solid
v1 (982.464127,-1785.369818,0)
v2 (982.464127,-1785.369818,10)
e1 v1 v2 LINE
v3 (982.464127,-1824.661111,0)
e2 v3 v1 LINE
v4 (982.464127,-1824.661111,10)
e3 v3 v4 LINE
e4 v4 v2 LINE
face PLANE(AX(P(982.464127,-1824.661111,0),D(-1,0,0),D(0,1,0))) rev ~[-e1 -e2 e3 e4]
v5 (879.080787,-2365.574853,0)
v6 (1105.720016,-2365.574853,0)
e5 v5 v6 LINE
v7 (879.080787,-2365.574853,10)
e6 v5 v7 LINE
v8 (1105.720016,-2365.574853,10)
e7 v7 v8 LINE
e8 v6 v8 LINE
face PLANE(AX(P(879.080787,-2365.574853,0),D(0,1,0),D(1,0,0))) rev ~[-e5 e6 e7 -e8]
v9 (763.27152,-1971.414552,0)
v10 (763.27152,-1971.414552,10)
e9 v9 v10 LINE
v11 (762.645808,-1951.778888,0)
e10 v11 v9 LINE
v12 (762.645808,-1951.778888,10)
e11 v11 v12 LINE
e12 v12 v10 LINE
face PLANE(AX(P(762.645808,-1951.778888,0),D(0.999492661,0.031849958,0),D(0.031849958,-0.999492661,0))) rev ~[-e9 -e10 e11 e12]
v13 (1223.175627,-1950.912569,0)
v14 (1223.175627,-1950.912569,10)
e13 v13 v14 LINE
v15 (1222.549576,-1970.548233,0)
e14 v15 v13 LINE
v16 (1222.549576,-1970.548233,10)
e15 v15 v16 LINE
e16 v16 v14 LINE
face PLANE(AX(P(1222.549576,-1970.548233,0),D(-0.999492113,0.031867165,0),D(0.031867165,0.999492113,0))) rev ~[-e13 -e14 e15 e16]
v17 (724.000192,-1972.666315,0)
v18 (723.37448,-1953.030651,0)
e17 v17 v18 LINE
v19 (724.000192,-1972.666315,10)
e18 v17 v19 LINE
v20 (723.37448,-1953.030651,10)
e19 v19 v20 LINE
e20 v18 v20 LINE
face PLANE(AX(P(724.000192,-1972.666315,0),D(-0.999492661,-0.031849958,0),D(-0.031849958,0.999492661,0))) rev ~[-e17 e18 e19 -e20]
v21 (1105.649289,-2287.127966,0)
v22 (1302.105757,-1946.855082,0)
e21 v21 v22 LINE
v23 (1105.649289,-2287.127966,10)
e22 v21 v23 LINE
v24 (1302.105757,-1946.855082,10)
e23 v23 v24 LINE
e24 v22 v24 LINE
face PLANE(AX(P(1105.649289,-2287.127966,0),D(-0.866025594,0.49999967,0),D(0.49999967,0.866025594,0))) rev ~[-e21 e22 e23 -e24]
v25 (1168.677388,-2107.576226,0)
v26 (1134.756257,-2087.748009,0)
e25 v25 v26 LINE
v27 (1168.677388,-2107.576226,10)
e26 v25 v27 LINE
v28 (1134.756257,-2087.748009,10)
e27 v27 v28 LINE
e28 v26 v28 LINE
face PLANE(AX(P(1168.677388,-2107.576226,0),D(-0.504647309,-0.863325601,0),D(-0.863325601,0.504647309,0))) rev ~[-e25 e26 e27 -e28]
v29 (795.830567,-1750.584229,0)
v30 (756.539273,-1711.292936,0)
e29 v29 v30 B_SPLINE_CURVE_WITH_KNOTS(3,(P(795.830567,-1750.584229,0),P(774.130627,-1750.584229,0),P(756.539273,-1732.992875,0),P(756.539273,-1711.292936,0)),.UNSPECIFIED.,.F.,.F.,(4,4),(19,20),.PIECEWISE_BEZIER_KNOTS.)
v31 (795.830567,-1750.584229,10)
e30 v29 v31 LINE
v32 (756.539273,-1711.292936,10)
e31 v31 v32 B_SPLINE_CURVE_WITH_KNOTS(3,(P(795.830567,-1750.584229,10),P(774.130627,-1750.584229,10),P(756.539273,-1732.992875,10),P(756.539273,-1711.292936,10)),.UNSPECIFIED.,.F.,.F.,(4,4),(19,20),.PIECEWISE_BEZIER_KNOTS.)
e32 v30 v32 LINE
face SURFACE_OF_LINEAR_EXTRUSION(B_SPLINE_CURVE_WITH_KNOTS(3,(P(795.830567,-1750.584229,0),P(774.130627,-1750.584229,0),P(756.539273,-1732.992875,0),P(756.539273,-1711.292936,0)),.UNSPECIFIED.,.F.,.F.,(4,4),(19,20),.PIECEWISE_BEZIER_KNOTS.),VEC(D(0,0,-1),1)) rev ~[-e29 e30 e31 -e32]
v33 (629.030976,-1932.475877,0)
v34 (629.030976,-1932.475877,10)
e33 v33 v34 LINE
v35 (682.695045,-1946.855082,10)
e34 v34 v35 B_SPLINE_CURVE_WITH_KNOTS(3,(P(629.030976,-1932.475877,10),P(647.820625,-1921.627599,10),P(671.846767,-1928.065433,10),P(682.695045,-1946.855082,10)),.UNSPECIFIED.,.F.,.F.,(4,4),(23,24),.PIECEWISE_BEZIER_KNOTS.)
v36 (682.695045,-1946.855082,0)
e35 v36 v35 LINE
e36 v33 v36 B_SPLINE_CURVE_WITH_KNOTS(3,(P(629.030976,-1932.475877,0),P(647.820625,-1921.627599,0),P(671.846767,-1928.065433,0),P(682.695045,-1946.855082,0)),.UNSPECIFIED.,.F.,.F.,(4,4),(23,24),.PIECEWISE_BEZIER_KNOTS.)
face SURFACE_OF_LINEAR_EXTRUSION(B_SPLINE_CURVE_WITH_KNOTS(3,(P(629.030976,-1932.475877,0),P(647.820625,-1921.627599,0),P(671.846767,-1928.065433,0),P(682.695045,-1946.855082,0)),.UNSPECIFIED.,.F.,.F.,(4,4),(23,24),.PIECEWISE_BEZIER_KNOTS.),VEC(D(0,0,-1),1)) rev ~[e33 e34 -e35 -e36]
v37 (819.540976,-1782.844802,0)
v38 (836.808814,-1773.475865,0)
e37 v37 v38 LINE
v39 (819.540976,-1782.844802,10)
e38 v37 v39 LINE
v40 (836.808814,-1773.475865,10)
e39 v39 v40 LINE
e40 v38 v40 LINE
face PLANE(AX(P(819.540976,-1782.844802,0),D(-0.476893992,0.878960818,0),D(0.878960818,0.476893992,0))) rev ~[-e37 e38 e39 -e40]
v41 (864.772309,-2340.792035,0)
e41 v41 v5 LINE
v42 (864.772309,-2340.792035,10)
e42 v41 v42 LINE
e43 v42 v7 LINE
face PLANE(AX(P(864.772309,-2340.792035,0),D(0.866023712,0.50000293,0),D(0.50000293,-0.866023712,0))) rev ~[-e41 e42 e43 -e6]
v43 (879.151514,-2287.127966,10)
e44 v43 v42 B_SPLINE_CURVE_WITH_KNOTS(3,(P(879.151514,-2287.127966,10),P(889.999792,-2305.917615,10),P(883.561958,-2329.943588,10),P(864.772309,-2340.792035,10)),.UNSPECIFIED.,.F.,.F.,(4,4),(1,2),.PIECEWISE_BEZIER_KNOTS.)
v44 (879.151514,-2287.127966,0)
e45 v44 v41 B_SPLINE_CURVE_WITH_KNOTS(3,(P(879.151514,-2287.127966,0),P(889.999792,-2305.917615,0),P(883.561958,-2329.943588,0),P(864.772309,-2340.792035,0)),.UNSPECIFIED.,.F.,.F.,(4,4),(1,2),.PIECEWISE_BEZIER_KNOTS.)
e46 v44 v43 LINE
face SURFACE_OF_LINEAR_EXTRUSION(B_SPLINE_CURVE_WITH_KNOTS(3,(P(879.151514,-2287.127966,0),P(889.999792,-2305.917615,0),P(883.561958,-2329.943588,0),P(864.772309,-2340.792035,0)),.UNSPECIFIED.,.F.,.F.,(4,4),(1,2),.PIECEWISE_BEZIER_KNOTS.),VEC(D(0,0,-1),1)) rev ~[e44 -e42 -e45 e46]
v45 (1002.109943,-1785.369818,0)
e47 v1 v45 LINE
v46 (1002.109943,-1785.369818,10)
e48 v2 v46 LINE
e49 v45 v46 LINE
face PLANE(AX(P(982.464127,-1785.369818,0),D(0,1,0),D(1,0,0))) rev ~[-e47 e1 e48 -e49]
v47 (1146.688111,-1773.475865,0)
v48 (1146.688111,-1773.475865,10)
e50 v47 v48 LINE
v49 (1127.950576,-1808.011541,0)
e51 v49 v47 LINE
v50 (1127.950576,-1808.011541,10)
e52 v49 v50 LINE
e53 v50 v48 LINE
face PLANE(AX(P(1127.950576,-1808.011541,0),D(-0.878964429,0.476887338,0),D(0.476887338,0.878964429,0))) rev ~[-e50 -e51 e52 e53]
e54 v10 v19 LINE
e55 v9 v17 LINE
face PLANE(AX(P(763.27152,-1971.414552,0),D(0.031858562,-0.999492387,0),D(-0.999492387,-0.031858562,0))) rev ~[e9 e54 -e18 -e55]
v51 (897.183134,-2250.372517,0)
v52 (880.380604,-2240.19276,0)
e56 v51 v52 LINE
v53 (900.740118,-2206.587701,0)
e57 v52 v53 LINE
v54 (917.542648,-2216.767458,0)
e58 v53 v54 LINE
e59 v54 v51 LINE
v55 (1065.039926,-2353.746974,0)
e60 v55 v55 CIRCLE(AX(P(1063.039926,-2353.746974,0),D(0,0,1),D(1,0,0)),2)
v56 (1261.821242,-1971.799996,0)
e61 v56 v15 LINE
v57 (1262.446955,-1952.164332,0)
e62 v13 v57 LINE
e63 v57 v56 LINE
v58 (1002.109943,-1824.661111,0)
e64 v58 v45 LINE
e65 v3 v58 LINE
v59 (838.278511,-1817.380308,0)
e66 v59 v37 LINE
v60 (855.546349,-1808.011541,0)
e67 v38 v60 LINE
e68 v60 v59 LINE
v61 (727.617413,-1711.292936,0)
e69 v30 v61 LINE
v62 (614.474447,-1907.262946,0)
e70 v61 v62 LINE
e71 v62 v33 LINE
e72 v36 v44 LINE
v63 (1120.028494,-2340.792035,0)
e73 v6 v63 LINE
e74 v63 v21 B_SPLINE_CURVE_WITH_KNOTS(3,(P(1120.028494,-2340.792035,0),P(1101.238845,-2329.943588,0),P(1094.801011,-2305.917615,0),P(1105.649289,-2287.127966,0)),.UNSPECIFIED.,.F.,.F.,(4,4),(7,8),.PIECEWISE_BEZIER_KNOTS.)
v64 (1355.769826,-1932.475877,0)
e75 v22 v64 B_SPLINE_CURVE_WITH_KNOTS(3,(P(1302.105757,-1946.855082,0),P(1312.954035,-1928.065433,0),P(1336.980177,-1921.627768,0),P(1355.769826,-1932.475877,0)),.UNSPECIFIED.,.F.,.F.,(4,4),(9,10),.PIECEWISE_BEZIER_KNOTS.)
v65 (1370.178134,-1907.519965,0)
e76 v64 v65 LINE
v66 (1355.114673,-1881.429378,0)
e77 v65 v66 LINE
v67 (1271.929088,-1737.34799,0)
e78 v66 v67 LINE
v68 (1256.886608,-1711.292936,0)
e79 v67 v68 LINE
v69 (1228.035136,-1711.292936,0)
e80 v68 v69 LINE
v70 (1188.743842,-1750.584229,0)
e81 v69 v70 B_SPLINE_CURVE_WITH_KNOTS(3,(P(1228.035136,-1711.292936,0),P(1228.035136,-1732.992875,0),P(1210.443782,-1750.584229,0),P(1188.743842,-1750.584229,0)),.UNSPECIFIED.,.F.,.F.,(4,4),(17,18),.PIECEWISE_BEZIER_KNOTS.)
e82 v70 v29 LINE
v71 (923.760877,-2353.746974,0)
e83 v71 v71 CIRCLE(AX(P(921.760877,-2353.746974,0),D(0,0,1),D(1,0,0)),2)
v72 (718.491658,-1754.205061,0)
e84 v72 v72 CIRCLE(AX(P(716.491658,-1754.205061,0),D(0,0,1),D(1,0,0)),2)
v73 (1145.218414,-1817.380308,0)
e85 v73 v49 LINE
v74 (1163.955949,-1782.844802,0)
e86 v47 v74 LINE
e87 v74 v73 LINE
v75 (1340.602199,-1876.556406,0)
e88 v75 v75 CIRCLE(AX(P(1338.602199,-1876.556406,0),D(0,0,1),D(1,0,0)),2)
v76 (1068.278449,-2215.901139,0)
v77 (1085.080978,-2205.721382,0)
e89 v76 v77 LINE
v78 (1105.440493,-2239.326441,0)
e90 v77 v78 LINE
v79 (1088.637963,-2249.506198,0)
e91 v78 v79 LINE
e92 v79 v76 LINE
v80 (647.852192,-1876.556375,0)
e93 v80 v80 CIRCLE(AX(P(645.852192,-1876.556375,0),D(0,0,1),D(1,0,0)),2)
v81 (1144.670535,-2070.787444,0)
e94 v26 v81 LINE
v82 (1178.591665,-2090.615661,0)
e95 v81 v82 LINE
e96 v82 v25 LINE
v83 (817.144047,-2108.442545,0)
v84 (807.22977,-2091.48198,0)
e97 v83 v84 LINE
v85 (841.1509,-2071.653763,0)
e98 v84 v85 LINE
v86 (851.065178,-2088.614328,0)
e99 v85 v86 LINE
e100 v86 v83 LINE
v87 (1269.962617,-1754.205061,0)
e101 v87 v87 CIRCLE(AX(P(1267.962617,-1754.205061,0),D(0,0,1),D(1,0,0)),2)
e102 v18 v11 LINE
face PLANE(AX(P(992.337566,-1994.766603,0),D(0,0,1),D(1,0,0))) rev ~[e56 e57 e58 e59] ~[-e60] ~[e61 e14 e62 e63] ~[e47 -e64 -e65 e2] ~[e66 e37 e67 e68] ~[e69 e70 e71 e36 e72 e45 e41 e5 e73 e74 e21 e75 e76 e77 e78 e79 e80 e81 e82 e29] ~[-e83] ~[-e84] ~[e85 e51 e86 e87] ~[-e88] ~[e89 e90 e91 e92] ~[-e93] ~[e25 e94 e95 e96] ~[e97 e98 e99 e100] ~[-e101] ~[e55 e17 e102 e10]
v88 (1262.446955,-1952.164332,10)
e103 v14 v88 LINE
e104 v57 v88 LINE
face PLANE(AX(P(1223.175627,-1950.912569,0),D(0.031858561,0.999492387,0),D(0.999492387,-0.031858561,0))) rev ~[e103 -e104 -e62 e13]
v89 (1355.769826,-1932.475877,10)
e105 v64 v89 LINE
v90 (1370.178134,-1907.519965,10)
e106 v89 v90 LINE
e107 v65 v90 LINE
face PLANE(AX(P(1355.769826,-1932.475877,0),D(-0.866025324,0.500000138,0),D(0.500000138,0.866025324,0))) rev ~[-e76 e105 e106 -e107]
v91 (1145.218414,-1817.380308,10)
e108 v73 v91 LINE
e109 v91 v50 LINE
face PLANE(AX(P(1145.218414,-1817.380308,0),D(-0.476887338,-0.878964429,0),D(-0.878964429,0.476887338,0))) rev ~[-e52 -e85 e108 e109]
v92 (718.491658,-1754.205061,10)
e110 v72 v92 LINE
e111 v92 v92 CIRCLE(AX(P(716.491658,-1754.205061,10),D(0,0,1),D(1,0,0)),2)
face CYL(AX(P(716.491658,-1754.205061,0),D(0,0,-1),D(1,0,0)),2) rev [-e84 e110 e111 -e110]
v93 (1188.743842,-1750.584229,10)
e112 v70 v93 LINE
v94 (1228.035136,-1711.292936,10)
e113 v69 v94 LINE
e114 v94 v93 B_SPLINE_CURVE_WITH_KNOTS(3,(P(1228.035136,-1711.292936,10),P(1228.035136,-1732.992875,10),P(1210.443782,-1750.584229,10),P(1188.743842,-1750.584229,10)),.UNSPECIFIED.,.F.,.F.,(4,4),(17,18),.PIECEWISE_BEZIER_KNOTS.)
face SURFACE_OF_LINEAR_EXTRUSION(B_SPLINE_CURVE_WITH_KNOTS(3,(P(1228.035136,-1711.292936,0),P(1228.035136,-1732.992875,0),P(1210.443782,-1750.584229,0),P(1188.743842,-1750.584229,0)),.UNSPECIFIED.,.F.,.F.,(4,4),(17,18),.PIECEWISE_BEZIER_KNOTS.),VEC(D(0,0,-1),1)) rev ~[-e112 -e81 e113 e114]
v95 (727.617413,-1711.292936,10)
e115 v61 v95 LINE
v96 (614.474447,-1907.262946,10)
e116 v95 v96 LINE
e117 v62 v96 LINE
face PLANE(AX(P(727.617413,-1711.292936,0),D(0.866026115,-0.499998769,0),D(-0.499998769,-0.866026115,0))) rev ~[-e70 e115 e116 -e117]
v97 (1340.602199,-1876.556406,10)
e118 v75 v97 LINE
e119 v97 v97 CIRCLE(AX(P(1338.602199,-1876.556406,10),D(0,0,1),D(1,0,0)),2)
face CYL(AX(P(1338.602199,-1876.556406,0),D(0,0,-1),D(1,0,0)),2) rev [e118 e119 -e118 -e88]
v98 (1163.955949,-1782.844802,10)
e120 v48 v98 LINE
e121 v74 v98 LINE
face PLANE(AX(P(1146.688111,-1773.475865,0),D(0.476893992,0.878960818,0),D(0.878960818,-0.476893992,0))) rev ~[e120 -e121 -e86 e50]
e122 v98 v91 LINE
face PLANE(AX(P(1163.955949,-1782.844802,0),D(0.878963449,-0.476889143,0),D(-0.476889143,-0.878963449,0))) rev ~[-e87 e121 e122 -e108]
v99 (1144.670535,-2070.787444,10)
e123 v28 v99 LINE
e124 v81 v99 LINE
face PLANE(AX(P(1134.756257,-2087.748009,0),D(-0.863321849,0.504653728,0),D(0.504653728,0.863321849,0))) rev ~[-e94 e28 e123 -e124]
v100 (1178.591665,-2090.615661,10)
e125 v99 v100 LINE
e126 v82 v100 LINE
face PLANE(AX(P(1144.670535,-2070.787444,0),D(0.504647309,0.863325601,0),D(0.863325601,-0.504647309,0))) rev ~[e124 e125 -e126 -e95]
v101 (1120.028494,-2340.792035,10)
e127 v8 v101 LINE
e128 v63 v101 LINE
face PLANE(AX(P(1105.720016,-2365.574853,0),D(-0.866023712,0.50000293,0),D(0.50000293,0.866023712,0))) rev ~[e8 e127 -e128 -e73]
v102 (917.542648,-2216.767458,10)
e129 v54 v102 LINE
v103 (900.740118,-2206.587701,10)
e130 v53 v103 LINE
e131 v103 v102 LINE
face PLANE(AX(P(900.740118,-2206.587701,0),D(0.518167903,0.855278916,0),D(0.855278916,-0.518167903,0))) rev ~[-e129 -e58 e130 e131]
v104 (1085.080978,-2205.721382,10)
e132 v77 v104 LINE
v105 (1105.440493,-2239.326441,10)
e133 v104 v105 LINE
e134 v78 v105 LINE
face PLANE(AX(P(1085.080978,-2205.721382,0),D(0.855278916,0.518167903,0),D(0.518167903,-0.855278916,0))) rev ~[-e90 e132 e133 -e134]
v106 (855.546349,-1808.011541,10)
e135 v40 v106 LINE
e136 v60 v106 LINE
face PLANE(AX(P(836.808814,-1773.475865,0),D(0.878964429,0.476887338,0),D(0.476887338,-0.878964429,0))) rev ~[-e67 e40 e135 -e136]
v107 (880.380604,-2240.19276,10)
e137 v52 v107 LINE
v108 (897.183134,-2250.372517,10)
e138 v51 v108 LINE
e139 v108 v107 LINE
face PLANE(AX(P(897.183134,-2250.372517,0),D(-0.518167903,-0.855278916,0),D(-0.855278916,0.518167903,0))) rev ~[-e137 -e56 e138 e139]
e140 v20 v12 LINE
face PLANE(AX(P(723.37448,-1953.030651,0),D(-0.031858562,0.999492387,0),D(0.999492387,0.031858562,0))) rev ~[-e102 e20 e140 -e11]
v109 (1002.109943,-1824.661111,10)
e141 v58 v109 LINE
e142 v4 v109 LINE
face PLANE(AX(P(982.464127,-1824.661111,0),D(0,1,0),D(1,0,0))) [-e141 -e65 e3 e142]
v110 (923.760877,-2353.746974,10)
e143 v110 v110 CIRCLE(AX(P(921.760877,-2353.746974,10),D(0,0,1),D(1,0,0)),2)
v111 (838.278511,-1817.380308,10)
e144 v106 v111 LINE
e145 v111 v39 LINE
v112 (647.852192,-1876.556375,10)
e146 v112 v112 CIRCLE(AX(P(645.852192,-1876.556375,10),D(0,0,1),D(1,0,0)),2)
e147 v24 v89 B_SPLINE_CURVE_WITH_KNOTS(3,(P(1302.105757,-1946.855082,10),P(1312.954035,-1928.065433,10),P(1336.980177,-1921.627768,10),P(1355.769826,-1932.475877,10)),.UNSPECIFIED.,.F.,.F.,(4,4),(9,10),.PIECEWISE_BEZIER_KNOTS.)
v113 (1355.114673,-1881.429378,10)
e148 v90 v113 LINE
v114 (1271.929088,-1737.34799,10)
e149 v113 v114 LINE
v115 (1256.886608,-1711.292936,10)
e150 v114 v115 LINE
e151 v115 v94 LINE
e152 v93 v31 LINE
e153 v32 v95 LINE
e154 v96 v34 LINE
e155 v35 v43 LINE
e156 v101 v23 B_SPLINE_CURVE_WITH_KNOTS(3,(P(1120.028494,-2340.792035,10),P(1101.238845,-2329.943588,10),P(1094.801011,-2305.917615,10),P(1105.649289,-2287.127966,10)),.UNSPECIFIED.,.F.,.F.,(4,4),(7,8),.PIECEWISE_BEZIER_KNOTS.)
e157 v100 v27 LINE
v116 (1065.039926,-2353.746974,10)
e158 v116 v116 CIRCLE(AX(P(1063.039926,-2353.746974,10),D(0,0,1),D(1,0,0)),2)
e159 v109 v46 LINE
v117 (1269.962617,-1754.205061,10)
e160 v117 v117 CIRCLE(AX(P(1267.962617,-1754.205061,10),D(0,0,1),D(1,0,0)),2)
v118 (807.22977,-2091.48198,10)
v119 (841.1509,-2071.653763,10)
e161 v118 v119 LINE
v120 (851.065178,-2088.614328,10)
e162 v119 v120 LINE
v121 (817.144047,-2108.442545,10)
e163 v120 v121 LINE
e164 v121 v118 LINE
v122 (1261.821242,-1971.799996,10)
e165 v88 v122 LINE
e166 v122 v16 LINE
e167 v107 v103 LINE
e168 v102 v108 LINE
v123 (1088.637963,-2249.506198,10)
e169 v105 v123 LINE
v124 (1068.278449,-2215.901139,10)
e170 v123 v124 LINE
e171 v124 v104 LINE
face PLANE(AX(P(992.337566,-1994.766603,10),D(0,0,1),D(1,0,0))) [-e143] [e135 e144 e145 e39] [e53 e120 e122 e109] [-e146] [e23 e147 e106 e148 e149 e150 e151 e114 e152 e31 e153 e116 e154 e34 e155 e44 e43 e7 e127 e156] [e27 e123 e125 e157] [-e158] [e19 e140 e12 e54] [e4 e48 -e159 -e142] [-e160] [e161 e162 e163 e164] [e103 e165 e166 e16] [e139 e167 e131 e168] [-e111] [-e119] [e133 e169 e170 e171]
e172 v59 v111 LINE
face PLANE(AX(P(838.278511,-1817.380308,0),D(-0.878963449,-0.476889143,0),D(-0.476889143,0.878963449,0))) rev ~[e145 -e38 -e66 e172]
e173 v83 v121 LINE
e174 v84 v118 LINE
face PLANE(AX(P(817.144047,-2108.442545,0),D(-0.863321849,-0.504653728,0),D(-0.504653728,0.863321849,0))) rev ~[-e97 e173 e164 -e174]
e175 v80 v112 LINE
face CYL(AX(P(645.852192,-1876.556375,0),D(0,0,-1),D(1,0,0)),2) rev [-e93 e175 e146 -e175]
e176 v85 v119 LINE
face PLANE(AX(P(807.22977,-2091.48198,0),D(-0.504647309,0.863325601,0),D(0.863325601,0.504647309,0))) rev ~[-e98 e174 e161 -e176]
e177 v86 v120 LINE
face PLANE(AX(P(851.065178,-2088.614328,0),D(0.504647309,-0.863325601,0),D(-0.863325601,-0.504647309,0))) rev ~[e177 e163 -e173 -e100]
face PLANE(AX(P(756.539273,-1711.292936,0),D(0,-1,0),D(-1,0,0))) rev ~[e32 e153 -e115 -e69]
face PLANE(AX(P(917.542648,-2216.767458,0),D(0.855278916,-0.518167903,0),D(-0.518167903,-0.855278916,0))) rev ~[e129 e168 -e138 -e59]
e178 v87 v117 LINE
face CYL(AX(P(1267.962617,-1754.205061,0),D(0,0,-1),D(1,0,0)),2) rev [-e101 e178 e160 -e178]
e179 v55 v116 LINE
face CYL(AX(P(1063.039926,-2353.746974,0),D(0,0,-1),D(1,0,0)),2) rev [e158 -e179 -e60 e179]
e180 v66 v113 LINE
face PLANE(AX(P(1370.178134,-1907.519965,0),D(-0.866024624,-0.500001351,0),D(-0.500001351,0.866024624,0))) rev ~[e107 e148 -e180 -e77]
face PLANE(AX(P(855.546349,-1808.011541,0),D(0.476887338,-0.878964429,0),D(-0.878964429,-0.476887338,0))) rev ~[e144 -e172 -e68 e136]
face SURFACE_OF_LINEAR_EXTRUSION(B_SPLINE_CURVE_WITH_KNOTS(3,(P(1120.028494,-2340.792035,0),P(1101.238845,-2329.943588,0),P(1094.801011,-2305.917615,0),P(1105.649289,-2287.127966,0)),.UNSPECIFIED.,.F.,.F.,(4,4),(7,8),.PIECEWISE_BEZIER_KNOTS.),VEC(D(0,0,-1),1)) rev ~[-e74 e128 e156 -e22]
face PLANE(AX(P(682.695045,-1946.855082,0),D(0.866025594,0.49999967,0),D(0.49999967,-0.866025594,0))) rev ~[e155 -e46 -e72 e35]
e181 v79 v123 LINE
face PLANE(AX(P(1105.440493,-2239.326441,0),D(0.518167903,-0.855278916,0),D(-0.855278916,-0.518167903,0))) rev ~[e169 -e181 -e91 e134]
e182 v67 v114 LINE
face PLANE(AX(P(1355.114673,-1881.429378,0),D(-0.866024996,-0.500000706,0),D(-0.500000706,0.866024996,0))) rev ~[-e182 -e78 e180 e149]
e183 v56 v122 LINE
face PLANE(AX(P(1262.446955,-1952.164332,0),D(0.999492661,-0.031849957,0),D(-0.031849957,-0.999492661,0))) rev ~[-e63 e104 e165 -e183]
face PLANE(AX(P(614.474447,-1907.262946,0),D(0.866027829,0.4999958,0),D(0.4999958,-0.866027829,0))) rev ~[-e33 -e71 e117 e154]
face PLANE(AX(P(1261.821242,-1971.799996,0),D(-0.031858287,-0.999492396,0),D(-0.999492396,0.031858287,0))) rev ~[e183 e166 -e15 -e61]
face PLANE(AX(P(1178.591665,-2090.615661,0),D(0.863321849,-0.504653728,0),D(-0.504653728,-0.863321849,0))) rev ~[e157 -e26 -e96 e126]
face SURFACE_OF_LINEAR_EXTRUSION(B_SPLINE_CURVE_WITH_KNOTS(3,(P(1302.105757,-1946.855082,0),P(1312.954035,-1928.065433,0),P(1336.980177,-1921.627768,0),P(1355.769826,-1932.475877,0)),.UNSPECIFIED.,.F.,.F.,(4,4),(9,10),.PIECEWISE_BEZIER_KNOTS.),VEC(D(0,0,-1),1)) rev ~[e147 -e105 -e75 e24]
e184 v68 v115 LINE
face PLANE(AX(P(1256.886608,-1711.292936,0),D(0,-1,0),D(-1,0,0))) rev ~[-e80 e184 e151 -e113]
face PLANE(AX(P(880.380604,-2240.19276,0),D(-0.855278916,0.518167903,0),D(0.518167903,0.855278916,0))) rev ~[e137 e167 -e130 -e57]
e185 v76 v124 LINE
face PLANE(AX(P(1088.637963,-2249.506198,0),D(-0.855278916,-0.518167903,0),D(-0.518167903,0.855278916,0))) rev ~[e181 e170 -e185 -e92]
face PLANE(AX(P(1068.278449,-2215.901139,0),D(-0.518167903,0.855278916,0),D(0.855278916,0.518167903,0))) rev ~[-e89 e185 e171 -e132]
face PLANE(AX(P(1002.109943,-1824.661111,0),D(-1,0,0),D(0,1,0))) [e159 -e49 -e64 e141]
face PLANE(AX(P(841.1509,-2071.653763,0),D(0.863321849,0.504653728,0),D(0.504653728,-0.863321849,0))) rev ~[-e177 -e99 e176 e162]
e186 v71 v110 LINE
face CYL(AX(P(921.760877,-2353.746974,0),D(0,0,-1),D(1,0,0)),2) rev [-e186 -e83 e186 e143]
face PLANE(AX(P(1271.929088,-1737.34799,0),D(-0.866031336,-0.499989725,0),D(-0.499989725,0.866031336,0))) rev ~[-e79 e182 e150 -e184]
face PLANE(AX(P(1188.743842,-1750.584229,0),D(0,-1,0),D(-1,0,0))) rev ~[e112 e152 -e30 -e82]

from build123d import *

# Parameters (mm, degrees)
MODEL_R            = 2
MODEL_W            = 19.645816046
MODEL_H            = 39.291293686
BOSS_EXTRU_1_DEPTH = 10


with BuildPart() as part:
    # Model → Boss.-Extru.1 (new body)
    with BuildSketch(Plane.XY):
        with BuildLine():
            Line((682.695045286, -1946.855082062), (879.151513744, -2287.127966132))
            add(Edge.make_bspline(
                [(879.151513744, -2287.127966132), (889.999791642, -2305.917615253), (883.561957827, -2329.943588049), (864.772308706, -2340.79203515)],
                knots=[1, 1, 1, 1, 2, 2, 2, 2], degree=3))
            Line((864.772308706, -2340.79203515), (879.080786919, -2365.574852737))
            Line((879.080786919, -2365.574852737), (909.407369941, -2365.574852737))
            Line((909.407369941, -2365.574852737), (1075.393432839, -2365.574852737))
            Line((1075.393432839, -2365.574852737), (1105.720015861, -2365.574852737))
            Line((1105.720015861, -2365.574852737), (1120.02849407, -2340.792035147))
            add(Edge.make_bspline(
                [(1120.02849407, -2340.792035147), (1101.238844947, -2329.94358805), (1094.801011127, -2305.917615255), (1105.649289021, -2287.127966132)],
                knots=[7, 7, 7, 7, 8, 8, 8, 8], degree=3))
            Line((1105.649289021, -2287.127966132), (1302.105757418, -1946.855082026))
            add(Edge.make_bspline(
                [(1302.105757418, -1946.855082026), (1312.954035312, -1928.065432904), (1336.980177311, -1921.627768287), (1355.769826434, -1932.475876978)],
                knots=[9, 9, 9, 9, 10, 10, 10, 10], degree=3))
            Line((1355.769826434, -1932.475876978), (1370.178134382, -1907.519964771))
            Line((1370.178134382, -1907.519964771), (1355.114672609, -1881.429377608))
            Line((1355.114672609, -1881.429377608), (1271.929088191, -1737.347990137))
            Line((1271.929088191, -1737.347990137), (1256.886607583, -1711.292935573))
            Line((1256.886607583, -1711.292935573), (1228.035135874, -1711.292935573))
            add(Edge.make_bspline(
                [(1228.035135874, -1711.292935573), (1228.035135876, -1732.992875424), (1210.443782043, -1750.58422926), (1188.743842192, -1750.584229262)],
                knots=[17, 17, 17, 17, 18, 18, 18, 18], degree=3))
            Line((1188.743842192, -1750.584229262), (795.830566931, -1750.584229262))
            add(Edge.make_bspline(
                [(795.830566931, -1750.584229262), (774.13062708, -1750.584229264), (756.539273244, -1732.992875431), (756.539273242, -1711.29293558)],
                knots=[19, 19, 19, 19, 20, 20, 20, 20], degree=3))
            Line((756.539273242, -1711.29293558), (727.617413106, -1711.29293558))
            Line((727.617413106, -1711.29293558), (614.474446531, -1907.262945538))
            Line((614.474446531, -1907.262945538), (629.030976268, -1932.475877023))
            add(Edge.make_bspline(
                [(629.030976268, -1932.475877023), (647.820625389, -1921.627599125), (671.846767389, -1928.065432941), (682.695045286, -1946.855082062)],
                knots=[23, 23, 23, 23, 24, 24, 24, 24], degree=3))
        make_face()
        with Locations((716.491657861, -1754.205060963)):
            Circle(MODEL_R, mode=Mode.SUBTRACT)
        with Locations((645.852191539, -1876.556374988)):
            Circle(MODEL_R, mode=Mode.SUBTRACT)
        with Locations((921.760877273, -2353.746974362)):
            Circle(MODEL_R, mode=Mode.SUBTRACT)
        with Locations((1063.039925504, -2353.746974349)):
            Circle(MODEL_R, mode=Mode.SUBTRACT)
        with Locations((1338.602199082, -1876.556405894)):
            Circle(MODEL_R, mode=Mode.SUBTRACT)
        with Locations((1267.962617169, -1754.205060913)):
            Circle(MODEL_R, mode=Mode.SUBTRACT)
        Polygon((1223.175627189, -1950.912568739), (1262.446954927, -1952.164332155), (1261.821242422, -1971.799996024), (1222.549576279, -1970.548232608), align=None, mode=Mode.SUBTRACT)
        Polygon((1168.677387646, -2107.576225944), (1134.756257166, -2087.748009122), (1144.67053478, -2070.787443882), (1178.59166526, -2090.615660704), align=None, mode=Mode.SUBTRACT)
        Polygon((1146.688110722, -1773.475865452), (1163.955948518, -1782.84480196), (1145.218413907, -1817.380308349), (1127.950576111, -1808.011541044), align=None, mode=Mode.SUBTRACT)
        Polygon((1085.080978488, -2205.721381517), (1105.440492577, -2239.326440884), (1088.637962894, -2249.506197929), (1068.278448805, -2215.901138562), align=None, mode=Mode.SUBTRACT)
        with Locations((992.287035365, -1805.015464432)):
            Rectangle(MODEL_W, MODEL_H, mode=Mode.SUBTRACT)
        Polygon((900.740118048, -2206.587700635), (917.542647733, -2216.767457676), (897.18313365, -2250.372517047), (880.380603964, -2240.192760005), align=None, mode=Mode.SUBTRACT)
        Polygon((836.808814024, -1773.475865479), (855.54634864, -1808.011541068), (838.278510846, -1817.380308376), (819.540976229, -1782.844801991), align=None, mode=Mode.SUBTRACT)
        Polygon((841.150900137, -2071.65376301), (851.065177754, -2088.614328248), (817.144047278, -2108.442545076), (807.229769661, -2091.481979838), align=None, mode=Mode.SUBTRACT)
        Polygon((762.645807706, -1951.778887881), (763.271520215, -1971.41455175), (724.000192478, -1972.666315173), (723.374479969, -1953.030651304), align=None, mode=Mode.SUBTRACT)
    extrude(amount=BOSS_EXTRU_1_DEPTH)


solid = part.part
